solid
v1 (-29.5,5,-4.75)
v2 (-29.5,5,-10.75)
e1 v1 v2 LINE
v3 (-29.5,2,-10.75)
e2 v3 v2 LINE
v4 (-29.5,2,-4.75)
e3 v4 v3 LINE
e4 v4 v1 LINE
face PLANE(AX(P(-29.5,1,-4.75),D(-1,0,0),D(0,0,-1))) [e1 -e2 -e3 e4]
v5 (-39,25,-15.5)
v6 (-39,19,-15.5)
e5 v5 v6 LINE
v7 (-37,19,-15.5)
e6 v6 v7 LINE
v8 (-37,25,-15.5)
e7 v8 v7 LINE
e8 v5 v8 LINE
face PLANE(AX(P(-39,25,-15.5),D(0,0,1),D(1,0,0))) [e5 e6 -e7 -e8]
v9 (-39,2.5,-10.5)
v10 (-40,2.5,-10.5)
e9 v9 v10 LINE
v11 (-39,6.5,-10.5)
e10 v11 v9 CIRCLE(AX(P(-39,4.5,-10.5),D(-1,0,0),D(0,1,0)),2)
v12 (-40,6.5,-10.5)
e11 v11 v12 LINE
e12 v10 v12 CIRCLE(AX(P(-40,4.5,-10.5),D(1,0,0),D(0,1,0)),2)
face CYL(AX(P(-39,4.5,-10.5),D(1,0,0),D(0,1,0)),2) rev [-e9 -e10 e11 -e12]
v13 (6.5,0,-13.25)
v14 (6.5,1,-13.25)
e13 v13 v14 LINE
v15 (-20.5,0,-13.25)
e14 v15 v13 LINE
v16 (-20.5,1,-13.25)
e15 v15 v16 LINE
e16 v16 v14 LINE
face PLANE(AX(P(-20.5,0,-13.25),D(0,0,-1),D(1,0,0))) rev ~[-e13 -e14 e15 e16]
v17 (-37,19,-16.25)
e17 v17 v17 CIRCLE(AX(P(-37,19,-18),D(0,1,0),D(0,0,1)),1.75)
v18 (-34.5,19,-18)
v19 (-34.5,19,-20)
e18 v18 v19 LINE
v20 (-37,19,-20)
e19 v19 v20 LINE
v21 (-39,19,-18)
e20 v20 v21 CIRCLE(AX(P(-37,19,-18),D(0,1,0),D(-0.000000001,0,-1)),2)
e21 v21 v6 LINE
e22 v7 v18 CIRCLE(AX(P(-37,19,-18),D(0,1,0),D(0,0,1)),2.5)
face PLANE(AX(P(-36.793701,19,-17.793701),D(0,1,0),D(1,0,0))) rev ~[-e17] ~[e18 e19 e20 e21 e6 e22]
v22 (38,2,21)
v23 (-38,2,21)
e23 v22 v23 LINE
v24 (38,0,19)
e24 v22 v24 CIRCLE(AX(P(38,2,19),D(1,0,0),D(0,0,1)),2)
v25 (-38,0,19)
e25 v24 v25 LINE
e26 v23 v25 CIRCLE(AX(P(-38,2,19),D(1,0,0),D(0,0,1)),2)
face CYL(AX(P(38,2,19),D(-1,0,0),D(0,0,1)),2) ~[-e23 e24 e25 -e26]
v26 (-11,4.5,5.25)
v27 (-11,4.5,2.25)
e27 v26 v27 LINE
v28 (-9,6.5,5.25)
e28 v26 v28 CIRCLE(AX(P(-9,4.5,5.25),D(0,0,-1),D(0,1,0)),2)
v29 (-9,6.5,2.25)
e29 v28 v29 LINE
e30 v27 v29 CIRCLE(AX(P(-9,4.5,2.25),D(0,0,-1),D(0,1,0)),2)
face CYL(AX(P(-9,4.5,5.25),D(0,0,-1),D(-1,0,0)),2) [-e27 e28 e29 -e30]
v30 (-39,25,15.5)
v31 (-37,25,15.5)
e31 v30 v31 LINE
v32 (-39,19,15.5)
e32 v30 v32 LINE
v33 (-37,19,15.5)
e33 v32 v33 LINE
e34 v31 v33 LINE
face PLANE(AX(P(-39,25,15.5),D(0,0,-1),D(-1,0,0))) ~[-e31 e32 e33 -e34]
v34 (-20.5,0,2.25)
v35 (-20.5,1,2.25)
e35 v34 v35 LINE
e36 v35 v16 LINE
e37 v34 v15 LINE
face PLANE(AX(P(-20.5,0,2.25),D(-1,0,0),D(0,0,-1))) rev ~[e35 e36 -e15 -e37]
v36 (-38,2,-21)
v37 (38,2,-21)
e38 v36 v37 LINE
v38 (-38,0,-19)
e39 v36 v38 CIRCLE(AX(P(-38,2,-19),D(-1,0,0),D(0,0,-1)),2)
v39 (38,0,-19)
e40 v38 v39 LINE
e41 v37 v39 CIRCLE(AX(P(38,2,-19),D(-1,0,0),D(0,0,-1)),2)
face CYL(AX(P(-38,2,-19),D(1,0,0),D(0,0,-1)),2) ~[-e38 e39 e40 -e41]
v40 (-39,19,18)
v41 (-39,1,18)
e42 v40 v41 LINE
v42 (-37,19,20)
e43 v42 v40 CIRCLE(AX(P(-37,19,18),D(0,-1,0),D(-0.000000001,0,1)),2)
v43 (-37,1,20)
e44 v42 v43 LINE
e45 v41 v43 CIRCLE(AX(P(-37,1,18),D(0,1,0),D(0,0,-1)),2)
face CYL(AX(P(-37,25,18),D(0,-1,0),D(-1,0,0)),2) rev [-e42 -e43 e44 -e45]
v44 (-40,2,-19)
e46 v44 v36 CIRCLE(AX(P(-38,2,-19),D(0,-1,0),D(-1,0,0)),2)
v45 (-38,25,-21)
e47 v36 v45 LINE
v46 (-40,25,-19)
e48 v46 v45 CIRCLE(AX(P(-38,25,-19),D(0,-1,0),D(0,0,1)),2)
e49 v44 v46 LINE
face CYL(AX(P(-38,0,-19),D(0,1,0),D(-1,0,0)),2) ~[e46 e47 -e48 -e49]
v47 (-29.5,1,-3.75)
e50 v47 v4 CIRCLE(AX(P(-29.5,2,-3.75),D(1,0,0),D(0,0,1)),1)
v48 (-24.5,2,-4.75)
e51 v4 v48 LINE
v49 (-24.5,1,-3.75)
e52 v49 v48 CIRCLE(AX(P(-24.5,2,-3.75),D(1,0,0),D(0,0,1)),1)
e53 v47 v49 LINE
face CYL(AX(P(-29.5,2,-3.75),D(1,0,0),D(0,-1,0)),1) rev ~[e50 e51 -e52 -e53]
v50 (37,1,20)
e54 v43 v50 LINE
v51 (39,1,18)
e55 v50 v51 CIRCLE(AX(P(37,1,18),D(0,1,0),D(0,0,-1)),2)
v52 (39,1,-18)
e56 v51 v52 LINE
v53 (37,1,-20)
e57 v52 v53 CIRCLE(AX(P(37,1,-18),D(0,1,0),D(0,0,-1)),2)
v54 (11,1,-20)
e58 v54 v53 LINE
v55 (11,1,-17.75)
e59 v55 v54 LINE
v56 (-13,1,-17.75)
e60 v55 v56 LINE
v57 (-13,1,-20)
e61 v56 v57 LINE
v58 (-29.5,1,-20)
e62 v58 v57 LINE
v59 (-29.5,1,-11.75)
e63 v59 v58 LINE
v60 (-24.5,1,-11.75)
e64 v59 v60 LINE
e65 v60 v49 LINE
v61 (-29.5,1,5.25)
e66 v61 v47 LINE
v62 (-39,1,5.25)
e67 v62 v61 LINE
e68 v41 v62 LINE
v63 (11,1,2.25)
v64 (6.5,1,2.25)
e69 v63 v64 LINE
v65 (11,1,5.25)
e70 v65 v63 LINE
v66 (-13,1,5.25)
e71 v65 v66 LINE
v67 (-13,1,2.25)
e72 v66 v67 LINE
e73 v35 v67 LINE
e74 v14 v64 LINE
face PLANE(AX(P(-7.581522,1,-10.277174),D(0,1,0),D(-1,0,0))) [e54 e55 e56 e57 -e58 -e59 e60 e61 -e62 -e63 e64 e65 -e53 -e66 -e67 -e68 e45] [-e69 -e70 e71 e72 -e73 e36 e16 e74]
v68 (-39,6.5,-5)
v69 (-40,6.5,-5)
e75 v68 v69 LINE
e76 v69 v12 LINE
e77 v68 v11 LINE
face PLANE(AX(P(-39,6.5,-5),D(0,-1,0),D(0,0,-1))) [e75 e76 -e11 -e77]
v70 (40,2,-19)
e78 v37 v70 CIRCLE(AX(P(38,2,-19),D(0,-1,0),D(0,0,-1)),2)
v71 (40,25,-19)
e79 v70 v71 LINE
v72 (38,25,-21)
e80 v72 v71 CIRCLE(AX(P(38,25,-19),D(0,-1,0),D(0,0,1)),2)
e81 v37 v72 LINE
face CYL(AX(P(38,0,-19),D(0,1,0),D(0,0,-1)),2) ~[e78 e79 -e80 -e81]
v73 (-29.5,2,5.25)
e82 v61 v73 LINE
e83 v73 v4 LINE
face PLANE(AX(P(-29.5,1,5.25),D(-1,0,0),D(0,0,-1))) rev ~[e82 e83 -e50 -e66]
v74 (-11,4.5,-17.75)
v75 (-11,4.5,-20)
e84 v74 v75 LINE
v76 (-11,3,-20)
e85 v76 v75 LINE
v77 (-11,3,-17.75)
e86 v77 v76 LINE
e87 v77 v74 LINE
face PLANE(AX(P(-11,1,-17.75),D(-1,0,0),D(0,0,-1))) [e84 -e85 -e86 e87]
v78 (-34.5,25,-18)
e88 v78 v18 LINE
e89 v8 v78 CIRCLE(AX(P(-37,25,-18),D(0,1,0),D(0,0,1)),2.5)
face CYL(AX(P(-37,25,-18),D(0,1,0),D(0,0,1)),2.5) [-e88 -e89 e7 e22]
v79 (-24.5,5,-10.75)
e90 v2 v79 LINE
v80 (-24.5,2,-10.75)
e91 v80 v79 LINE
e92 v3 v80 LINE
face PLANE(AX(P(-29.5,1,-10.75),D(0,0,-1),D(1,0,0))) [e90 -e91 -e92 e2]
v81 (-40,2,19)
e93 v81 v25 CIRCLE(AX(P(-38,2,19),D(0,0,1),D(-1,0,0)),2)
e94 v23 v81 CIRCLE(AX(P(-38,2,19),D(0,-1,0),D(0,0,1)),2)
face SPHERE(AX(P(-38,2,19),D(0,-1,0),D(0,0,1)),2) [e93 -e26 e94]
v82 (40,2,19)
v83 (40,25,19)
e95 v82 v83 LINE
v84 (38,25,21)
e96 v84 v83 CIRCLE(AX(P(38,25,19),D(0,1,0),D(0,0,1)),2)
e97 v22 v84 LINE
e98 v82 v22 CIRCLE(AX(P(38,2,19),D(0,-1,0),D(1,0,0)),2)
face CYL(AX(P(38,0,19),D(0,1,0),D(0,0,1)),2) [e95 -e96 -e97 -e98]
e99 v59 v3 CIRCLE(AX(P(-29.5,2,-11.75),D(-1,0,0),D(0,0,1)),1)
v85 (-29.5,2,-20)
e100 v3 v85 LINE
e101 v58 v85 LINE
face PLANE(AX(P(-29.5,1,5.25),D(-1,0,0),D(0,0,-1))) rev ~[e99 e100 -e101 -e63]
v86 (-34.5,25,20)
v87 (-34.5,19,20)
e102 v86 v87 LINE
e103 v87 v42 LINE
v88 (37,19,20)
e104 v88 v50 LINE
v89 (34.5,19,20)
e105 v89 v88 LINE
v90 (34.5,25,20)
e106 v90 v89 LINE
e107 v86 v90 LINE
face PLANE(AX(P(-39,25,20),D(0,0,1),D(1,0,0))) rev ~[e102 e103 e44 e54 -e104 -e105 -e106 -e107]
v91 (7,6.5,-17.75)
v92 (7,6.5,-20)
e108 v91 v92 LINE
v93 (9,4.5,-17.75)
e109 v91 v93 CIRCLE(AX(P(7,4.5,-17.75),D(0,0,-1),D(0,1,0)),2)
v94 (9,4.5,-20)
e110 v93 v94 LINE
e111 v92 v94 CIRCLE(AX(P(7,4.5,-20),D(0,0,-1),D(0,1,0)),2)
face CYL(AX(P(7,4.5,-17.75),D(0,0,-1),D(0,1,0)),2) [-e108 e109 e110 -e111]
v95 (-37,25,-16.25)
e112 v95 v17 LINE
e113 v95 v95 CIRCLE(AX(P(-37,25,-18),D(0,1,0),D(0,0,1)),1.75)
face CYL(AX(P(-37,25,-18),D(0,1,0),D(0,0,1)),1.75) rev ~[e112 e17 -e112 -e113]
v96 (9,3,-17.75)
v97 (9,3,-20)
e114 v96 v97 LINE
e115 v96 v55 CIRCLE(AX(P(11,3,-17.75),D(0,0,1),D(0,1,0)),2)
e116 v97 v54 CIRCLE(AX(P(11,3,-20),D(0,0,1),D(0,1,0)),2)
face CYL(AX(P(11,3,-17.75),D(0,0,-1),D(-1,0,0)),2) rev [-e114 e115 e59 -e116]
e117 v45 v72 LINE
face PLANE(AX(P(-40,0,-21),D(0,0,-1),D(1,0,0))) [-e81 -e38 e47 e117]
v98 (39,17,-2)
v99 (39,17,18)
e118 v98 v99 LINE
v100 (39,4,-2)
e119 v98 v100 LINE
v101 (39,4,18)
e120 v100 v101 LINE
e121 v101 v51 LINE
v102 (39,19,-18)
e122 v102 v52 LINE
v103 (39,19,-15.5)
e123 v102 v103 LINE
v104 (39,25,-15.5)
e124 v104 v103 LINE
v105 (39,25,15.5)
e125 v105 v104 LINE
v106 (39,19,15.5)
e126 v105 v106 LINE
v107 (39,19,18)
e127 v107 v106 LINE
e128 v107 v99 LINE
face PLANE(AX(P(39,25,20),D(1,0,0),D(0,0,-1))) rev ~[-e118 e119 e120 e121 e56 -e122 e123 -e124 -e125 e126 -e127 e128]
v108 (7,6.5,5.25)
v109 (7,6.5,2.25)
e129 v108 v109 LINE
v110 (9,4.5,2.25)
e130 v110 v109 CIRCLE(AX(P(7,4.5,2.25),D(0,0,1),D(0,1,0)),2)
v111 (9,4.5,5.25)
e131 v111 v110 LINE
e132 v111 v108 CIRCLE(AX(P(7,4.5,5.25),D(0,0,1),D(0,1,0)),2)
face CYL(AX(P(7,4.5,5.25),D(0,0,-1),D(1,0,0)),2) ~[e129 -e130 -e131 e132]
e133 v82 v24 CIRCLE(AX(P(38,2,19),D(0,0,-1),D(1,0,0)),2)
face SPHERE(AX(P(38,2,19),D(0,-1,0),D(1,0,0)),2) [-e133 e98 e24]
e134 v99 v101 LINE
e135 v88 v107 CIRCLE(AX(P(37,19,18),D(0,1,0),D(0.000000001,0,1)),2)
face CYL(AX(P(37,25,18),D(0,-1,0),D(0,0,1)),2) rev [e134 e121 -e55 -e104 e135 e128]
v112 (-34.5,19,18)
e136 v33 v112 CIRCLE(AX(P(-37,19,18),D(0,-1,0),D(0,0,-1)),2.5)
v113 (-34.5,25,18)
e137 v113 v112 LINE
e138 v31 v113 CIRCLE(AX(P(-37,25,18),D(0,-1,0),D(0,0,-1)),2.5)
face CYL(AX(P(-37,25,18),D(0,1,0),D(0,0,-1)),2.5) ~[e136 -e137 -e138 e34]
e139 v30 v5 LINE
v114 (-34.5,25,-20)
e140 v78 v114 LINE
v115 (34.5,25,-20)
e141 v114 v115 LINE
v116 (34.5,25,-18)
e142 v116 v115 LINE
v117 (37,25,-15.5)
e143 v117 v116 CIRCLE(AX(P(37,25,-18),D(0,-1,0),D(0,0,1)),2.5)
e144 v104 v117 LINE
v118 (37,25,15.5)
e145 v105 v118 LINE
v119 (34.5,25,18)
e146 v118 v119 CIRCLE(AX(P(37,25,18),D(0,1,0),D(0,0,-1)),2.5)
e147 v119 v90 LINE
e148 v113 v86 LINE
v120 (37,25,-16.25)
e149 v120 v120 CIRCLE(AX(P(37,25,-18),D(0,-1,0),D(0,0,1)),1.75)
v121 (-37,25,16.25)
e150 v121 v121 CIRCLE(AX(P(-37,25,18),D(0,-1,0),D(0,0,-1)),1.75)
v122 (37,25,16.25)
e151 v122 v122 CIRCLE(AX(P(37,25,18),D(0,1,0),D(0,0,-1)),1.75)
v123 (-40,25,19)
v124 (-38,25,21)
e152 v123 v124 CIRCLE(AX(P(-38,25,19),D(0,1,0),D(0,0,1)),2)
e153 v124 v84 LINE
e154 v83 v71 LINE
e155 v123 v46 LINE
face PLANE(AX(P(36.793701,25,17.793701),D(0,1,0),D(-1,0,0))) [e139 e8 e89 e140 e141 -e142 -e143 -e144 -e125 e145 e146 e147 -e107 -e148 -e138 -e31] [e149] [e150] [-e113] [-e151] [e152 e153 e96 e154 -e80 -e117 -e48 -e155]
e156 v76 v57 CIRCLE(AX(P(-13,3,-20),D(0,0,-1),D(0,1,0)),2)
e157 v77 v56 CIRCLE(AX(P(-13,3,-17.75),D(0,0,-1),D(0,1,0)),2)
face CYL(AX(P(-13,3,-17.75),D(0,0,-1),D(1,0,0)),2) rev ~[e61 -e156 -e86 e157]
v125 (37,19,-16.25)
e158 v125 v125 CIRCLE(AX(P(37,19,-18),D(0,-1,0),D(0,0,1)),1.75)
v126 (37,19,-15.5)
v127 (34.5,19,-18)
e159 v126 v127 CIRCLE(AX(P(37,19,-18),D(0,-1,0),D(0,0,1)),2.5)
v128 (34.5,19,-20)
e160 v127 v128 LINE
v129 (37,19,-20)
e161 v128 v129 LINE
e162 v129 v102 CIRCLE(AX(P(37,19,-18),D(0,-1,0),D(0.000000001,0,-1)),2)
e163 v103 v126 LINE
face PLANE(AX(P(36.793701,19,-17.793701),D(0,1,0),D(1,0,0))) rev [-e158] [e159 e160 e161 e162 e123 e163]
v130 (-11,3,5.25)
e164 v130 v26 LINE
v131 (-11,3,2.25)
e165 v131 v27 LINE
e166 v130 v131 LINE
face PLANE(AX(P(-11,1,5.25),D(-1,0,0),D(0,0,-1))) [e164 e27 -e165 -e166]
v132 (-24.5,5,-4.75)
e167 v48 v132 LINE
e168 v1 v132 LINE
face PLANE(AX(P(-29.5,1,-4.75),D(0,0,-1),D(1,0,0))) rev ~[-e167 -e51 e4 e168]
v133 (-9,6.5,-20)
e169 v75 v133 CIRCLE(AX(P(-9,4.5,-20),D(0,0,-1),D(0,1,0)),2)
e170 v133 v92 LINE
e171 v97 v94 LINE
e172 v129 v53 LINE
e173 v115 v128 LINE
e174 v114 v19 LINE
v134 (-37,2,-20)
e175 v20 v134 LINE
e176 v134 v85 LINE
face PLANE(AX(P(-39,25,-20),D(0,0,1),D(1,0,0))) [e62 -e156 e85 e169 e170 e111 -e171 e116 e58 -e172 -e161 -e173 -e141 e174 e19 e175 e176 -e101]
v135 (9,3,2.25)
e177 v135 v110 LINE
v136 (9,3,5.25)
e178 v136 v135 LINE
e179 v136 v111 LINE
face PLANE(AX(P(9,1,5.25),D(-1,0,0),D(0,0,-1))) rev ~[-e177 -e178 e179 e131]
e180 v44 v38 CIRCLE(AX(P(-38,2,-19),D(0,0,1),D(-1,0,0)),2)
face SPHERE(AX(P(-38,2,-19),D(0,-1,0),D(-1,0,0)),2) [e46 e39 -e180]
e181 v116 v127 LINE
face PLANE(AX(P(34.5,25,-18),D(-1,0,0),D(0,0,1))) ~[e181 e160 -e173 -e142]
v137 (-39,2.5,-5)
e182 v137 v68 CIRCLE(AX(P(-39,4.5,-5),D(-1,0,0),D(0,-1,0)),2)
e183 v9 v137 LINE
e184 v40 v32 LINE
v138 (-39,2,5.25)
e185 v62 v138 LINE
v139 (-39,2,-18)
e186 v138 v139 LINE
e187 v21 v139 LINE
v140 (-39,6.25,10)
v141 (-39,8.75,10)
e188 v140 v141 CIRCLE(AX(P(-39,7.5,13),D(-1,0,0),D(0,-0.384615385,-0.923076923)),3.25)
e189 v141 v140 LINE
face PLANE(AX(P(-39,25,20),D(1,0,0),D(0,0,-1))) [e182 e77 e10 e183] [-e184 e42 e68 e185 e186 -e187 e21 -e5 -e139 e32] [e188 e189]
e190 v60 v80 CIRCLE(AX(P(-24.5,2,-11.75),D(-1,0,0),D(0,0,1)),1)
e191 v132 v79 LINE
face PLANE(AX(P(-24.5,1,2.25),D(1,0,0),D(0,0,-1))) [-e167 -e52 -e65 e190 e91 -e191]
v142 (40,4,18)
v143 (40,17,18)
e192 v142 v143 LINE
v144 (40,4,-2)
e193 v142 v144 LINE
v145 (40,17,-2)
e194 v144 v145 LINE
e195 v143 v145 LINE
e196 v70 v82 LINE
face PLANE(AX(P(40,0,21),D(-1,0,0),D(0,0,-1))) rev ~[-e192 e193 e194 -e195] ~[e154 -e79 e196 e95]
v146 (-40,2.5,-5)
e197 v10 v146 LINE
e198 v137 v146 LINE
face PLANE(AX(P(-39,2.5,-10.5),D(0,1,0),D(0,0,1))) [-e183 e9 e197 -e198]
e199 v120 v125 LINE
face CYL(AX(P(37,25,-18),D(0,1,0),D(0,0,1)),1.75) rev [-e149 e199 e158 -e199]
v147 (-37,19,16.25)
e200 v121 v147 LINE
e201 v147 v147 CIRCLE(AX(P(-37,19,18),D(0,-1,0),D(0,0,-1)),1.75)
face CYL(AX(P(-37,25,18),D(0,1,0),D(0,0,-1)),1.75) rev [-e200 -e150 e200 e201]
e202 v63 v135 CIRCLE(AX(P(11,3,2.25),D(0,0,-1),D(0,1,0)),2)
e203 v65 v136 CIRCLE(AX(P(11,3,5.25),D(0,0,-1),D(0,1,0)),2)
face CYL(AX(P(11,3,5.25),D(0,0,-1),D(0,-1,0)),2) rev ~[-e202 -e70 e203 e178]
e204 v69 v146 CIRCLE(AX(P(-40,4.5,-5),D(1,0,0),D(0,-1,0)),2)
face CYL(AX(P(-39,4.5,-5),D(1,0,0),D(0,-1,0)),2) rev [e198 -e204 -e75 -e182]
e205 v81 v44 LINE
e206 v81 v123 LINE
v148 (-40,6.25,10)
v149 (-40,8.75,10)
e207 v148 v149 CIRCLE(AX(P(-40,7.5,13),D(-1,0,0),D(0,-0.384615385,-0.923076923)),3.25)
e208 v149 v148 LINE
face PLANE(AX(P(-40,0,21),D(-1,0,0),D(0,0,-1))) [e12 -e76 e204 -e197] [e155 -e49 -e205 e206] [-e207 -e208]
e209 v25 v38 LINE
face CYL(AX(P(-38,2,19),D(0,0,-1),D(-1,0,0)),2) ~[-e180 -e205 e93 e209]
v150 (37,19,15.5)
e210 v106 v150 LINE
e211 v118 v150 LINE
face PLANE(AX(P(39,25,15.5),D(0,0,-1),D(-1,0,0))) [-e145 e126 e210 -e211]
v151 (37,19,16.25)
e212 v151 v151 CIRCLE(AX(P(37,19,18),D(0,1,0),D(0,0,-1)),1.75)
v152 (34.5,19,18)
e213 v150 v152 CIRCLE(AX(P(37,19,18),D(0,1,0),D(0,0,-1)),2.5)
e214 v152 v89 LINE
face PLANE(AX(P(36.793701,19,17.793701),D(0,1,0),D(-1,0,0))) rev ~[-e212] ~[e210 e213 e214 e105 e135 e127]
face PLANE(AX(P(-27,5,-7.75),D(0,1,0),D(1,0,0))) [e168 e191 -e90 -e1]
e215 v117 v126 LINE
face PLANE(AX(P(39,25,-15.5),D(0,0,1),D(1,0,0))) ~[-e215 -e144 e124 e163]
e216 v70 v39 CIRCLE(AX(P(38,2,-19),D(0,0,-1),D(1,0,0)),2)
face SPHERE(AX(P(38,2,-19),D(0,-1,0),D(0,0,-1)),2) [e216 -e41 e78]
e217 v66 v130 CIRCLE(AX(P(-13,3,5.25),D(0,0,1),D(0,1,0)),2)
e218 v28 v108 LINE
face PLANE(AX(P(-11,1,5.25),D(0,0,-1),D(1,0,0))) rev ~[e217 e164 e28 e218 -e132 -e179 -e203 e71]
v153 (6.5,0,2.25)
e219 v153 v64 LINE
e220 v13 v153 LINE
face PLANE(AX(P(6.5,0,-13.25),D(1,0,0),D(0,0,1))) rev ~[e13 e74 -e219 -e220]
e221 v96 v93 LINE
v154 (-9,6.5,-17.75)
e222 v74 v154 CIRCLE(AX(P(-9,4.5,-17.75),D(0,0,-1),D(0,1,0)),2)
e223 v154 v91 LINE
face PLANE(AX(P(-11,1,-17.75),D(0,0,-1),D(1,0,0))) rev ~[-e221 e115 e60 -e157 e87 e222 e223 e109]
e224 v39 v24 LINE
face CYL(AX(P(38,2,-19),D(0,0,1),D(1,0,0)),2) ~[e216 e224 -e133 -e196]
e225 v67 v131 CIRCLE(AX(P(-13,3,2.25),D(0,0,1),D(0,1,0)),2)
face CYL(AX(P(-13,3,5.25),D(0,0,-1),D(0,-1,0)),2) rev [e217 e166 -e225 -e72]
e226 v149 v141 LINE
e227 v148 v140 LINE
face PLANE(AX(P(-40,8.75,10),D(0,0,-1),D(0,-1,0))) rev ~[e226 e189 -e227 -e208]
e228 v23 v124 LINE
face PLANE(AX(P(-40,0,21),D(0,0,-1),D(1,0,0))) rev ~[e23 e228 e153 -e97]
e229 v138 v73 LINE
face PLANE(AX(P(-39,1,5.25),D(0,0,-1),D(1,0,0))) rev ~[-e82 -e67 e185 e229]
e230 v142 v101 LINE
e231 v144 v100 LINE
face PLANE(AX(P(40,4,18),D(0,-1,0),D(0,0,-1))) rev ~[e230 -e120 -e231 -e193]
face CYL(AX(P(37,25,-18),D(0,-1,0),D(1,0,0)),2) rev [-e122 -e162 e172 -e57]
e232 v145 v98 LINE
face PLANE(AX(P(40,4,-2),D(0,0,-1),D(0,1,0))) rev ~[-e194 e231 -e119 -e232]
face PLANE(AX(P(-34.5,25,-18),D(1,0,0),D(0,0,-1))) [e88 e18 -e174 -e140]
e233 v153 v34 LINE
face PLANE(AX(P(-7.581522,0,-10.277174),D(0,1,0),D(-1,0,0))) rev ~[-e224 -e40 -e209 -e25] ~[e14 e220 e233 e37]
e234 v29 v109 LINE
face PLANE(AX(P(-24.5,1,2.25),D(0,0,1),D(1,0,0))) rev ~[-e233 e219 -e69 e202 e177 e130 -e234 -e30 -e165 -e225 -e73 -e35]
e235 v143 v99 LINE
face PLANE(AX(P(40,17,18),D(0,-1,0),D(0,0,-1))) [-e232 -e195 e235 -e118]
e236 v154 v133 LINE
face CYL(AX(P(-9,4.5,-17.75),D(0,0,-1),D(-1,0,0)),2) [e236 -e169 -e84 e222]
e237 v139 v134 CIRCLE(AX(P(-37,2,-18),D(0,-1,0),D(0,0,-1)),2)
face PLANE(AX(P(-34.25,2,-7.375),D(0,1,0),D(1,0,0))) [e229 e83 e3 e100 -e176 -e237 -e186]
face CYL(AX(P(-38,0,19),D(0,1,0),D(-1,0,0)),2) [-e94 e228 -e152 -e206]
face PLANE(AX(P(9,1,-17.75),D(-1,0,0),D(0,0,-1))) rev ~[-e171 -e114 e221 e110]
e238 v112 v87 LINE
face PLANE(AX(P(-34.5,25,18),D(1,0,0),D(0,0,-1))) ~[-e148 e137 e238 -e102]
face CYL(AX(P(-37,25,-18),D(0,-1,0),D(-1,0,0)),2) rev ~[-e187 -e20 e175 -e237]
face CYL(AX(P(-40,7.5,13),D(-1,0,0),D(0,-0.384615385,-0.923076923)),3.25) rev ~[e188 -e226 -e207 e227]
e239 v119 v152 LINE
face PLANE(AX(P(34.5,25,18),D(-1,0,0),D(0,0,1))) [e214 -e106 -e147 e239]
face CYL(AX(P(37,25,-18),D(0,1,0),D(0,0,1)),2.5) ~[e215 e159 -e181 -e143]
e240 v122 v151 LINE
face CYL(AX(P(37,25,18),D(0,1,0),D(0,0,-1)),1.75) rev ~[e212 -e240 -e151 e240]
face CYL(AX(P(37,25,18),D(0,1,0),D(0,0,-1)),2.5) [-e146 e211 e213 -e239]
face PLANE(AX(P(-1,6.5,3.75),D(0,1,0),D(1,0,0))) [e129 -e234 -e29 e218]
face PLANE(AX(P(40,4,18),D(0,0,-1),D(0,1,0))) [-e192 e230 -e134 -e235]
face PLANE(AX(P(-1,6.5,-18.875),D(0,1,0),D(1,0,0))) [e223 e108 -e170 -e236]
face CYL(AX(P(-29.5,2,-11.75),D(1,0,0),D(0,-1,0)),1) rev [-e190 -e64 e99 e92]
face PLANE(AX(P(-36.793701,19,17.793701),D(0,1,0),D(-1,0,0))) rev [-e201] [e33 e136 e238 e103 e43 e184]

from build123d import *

# Parameters (mm, degrees)
SKETCH1_W               = 80
SKETCH1_H               = 42
BOSS_EXTRUDE1_DEPTH     = 25
SKETCH6_W               = 78
SKETCH6_H               = 40
CUT_EXTRUDE6_DEPTH      = 24
CUT_EXTRUDE7_REACH      = 53.157
SKETCH7_W               = 33.5
SKETCH7_H               = 20
SKETCH8_W               = 5
SKETCH8_H               = 6
BOSS_EXTRUDE2_DEPTH     = 4
SKETCH9_W               = 9.5
SKETCH9_H               = 25.25
BOSS_EXTRUDE3_DEPTH     = 1
FILLET1_R               = 1
FILLET3_R               = 2
CUT_EXTRUDE8_REACH      = 87.481
SKETCH18_W              = 20
SKETCH18_H              = 2.25
SKETCH18_H_2            = 3
BOSS_EXTRUDE5_DEPTH     = 5.5
FILLET5_R               = 2
CUT_EXTRUDE12_REACH     = 88.406
BOSS_EXTRUDE6_DEPTH     = 6
CUT_EXTRUDE13_REACH     = 53.633
SKETCH22_R              = 1.75
MIRROR3_COPY_1_DEPTH    = 6
MIRROR3_COPY_2_REACH    = 53.633
MIRROR3_COPY_2_SKETCH_R = 1.75
FILLET6_R               = 2
BOSS_EXTRUDE7_DEPTH     = 1
CUT_EXTRUDE14_REACH     = 88.406
SKETCH24_W              = 20
SKETCH24_H              = 13


with BuildPart() as part:
    # Sketch1 → Boss-Extrude1 (new body)
    with BuildSketch(Plane(origin=(0, 0, 0), x_dir=(1, 0, 0), z_dir=(0, 1, 0))):
        Rectangle(SKETCH1_W, SKETCH1_H)
    extrude(amount=BOSS_EXTRUDE1_DEPTH)

    # Sketch6 → Cut-Extrude6 (cut)
    with BuildSketch(Plane(origin=(0, 25, 0), x_dir=(1, 0, 0), z_dir=(0, 1, 0))):
        Rectangle(SKETCH6_W, SKETCH6_H)
    extrude(amount=-CUT_EXTRUDE6_DEPTH, mode=Mode.SUBTRACT)

    # Sketch7 → Cut-Extrude7 (cut, up to next)
    with BuildSketch(Plane(origin=(0, 1, 0), x_dir=(1, 0, 0), z_dir=(0, 1, 0)), mode=Mode.PRIVATE) as cut_extrude7_sk1:
        with Locations((-7.75, 7.75)):
            Rectangle(SKETCH7_W, SKETCH7_H)
    cut_extrude7_tool1 = extrude(cut_extrude7_sk1.sketch, amount=-CUT_EXTRUDE7_REACH, mode=Mode.PRIVATE) & part.part
    add(cut_extrude7_tool1.solids().sort_by_distance((-7.75, 1, -7.75))[0], mode=Mode.SUBTRACT)

    # Sketch8 → Boss-Extrude2 (add)
    with BuildSketch(Plane(origin=(0, 1, 0), x_dir=(1, 0, 0), z_dir=(0, 1, 0))):
        with Locations((-27, 7.75)):
            Rectangle(SKETCH8_W, SKETCH8_H)
    extrude(amount=BOSS_EXTRUDE2_DEPTH)

    # Sketch9 → Boss-Extrude3 (add)
    with BuildSketch(Plane(origin=(0, 1, 0), x_dir=(1, 0, 0), z_dir=(0, 1, 0))):
        with Locations((-34.25, 7.375)):
            Rectangle(SKETCH9_W, SKETCH9_H)
    extrude(amount=BOSS_EXTRUDE3_DEPTH)

    # Fillet1
    fillet1_edges = [part.edges().sort_by_distance(p)[0] for p in [
        (-27, 1, -10.75),
        (-27, 1, -4.75),
    ]]
    fillet(fillet1_edges, radius=FILLET1_R)

    # Fillet3
    fillet3_edges = [part.edges().sort_by_distance(p)[0] for p in [
        (-39, 13, 20),
        (39, 13, 20),
        (39, 13, -20),
        (-39, 13.5, -20),
        (40, 12.5, 21),
        (-40, 12.5, 21),
        (-40, 12.5, -21),
        (40, 12.5, -21),
    ]]
    fillet(fillet3_edges, radius=FILLET3_R)

    # Sketch12 → Cut-Extrude8 (cut, up to next)
    with BuildSketch(Plane(origin=(-39, 0, 0), x_dir=(0, 0, -1), z_dir=(1, 0, 0)), mode=Mode.PRIVATE) as cut_extrude8_sk1:
        with BuildLine():
            Line((5, 6.5), (10.5, 6.5))
            ThreePointArc((10.5, 6.5), (12.5, 4.5), (10.5, 2.5))
            Line((10.5, 2.5), (5, 2.5))
            ThreePointArc((5, 2.5), (3, 4.5), (5, 6.5))
        make_face()
    cut_extrude8_tool1 = extrude(cut_extrude8_sk1.sketch, amount=-CUT_EXTRUDE8_REACH, mode=Mode.PRIVATE) & part.part
    add(cut_extrude8_tool1.solids().sort_by_distance((-39, 4.5, -7.75))[0], mode=Mode.SUBTRACT)

    # Sketch18 → Boss-Extrude5 (add)
    with BuildSketch(Plane(origin=(0, 1, 0), x_dir=(1, 0, 0), z_dir=(0, 1, 0))):
        with Locations((-1, 18.875)):
            Rectangle(SKETCH18_W, SKETCH18_H)
        with Locations((-1, -3.75)):
            Rectangle(SKETCH18_W, SKETCH18_H_2)
    extrude(amount=BOSS_EXTRUDE5_DEPTH)

    # Fillet5
    fillet5_edges = [part.edges().sort_by_distance(p)[0] for p in [
        (9, 1, -18.875),
        (-11, 1, -18.875),
        (9, 6.5, -18.875),
        (-11, 6.5, -18.875),
        (9, 1, 3.75),
        (-11, 1, 3.75),
        (9, 6.5, 3.75),
        (-11, 6.5, 3.75),
    ]]
    fillet(fillet5_edges, radius=FILLET5_R)

    # Sketch19 → Cut-Extrude12 (cut, up to next)
    with BuildSketch(Plane.ZY.offset(40), mode=Mode.PRIVATE) as cut_extrude12_sk1:
        with BuildLine():
            Line((10, 8.75), (10, 6.25))
            ThreePointArc((10, 6.25), (16.25, 7.5), (10, 8.75))
        make_face()
    cut_extrude12_tool1 = extrude(cut_extrude12_sk1.sketch, amount=-CUT_EXTRUDE12_REACH, mode=Mode.PRIVATE) & part.part
    add(cut_extrude12_tool1.solids().sort_by_distance((-40, 7.5, 13.039742))[0], mode=Mode.SUBTRACT)

    # Sketch20 → Boss-Extrude6 (add)
    with BuildSketch(Plane(origin=(0, 25, 0), x_dir=(1, 0, 0), z_dir=(0, 1, 0))):
        with BuildLine():
            Line((-34.5, 20), (-37, 20))
            ThreePointArc((-37, 20), (-38.414213562, 19.414213562), (-39, 18))
            Line((-39, 18), (-39, 15.5))
            Line((-39, 15.5), (-37, 15.5))
            ThreePointArc((-37, 15.5), (-35.232233047, 16.232233047), (-34.5, 18))
            Line((-34.5, 18), (-34.5, 20))
        make_face()
    boss_extrude6 = extrude(amount=-BOSS_EXTRUDE6_DEPTH)

    # Sketch22 → Cut-Extrude13 (cut, up to next)
    with BuildSketch(Plane(origin=(0, 25, 0), x_dir=(1, 0, 0), z_dir=(0, 1, 0)), mode=Mode.PRIVATE) as cut_extrude13_sk1:
        with Locations(Location((-37, 18, 0), (0, 0, 270))):
            Circle(SKETCH22_R)
    cut_extrude13_tool1 = extrude(cut_extrude13_sk1.sketch, amount=-CUT_EXTRUDE13_REACH, mode=Mode.PRIVATE) & part.part
    cut_extrude13 = cut_extrude13_tool1.solids().sort_by_distance((-37, 25, -18))[0]
    add(cut_extrude13, mode=Mode.SUBTRACT)

    # Mirror1: Boss-Extrude6, Cut-Extrude13 across plane
    add(boss_extrude6.mirror(Plane.XY))
    add(cut_extrude13.mirror(Plane.XY), mode=Mode.SUBTRACT)

    # Mirror3: Boss-Extrude6, Cut-Extrude13 across plane
    add(boss_extrude6.mirror(Plane(origin=(0, 0, 0), x_dir=(0, 0, 1), z_dir=(1, 0, 0))))
    add(cut_extrude13.mirror(Plane(origin=(0, 0, 0), x_dir=(0, 0, 1), z_dir=(1, 0, 0))), mode=Mode.SUBTRACT)

    # Mirror3 copy 1 sketch → Mirror3 copy 1 (add)
    with BuildSketch(Plane(origin=(0, 25, 0), x_dir=(-1, 0, 0), z_dir=(0, 1, 0))):
        with BuildLine():
            Line((-34.5, 20), (-37, 20))
            ThreePointArc((-37, 20), (-38.414213562, 19.414213562), (-39, 18))
            Line((-39, 18), (-39, 15.5))
            Line((-39, 15.5), (-37, 15.5))
            ThreePointArc((-37, 15.5), (-35.232233047, 16.232233047), (-34.5, 18))
            Line((-34.5, 18), (-34.5, 20))
        make_face()
    extrude(amount=-MIRROR3_COPY_1_DEPTH)

    # Mirror3 copy 2 sketch → Mirror3 copy 2 (cut, up to next)
    with BuildSketch(Plane(origin=(0, 25, 0), x_dir=(-1, 0, 0), z_dir=(0, 1, 0)), mode=Mode.PRIVATE) as mirror3_copy_2_sk1:
        with Locations(Location((-37, 18, 0), (0, 0, 270))):
            Circle(MIRROR3_COPY_2_SKETCH_R)
    mirror3_copy_2_tool1 = extrude(mirror3_copy_2_sk1.sketch, amount=-MIRROR3_COPY_2_REACH, mode=Mode.PRIVATE) & part.part
    add(mirror3_copy_2_tool1.solids().sort_by_distance((37, 25, 18))[0], mode=Mode.SUBTRACT)

    # Fillet6
    fillet6_edges = [part.edges().sort_by_distance(p)[0] for p in [
        (0, 0, -21),
        (40, 0, 0),
        (0, 0, 21),
        (-40, 0, 0),
        (39.414213562, 0, 20.414213562),
        (-39.414213562, 0, 20.414213562),
        (-39.414213562, 0, -20.414213562),
        (39.414213562, 0, -20.414213562),
    ]]
    fillet(fillet6_edges, radius=FILLET6_R)

    # Sketch23 → Boss-Extrude7 (add)
    with BuildSketch(Plane.XZ):
        Polygon((-20.5, 2.25), (-20.5, -13.25), (6.5, -13.25), (6.5, 2.25), (9, 2.25), (9, -17.75), (-24.5, -17.75), (-24.5, 2.25), align=None)
    extrude(amount=-BOSS_EXTRUDE7_DEPTH)

    # Sketch24 → Cut-Extrude14 (cut, up to next)
    with BuildSketch(Plane(origin=(40, 0, 0), x_dir=(0, 0, -1), z_dir=(1, 0, 0)), mode=Mode.PRIVATE) as cut_extrude14_sk1:
        with Locations((-8, 10.5)):
            Rectangle(SKETCH24_W, SKETCH24_H)
    cut_extrude14_tool1 = extrude(cut_extrude14_sk1.sketch, amount=-CUT_EXTRUDE14_REACH, mode=Mode.PRIVATE) & part.part
    add(cut_extrude14_tool1.solids().sort_by_distance((40, 10.5, 8))[0], mode=Mode.SUBTRACT)


solid = part.part
